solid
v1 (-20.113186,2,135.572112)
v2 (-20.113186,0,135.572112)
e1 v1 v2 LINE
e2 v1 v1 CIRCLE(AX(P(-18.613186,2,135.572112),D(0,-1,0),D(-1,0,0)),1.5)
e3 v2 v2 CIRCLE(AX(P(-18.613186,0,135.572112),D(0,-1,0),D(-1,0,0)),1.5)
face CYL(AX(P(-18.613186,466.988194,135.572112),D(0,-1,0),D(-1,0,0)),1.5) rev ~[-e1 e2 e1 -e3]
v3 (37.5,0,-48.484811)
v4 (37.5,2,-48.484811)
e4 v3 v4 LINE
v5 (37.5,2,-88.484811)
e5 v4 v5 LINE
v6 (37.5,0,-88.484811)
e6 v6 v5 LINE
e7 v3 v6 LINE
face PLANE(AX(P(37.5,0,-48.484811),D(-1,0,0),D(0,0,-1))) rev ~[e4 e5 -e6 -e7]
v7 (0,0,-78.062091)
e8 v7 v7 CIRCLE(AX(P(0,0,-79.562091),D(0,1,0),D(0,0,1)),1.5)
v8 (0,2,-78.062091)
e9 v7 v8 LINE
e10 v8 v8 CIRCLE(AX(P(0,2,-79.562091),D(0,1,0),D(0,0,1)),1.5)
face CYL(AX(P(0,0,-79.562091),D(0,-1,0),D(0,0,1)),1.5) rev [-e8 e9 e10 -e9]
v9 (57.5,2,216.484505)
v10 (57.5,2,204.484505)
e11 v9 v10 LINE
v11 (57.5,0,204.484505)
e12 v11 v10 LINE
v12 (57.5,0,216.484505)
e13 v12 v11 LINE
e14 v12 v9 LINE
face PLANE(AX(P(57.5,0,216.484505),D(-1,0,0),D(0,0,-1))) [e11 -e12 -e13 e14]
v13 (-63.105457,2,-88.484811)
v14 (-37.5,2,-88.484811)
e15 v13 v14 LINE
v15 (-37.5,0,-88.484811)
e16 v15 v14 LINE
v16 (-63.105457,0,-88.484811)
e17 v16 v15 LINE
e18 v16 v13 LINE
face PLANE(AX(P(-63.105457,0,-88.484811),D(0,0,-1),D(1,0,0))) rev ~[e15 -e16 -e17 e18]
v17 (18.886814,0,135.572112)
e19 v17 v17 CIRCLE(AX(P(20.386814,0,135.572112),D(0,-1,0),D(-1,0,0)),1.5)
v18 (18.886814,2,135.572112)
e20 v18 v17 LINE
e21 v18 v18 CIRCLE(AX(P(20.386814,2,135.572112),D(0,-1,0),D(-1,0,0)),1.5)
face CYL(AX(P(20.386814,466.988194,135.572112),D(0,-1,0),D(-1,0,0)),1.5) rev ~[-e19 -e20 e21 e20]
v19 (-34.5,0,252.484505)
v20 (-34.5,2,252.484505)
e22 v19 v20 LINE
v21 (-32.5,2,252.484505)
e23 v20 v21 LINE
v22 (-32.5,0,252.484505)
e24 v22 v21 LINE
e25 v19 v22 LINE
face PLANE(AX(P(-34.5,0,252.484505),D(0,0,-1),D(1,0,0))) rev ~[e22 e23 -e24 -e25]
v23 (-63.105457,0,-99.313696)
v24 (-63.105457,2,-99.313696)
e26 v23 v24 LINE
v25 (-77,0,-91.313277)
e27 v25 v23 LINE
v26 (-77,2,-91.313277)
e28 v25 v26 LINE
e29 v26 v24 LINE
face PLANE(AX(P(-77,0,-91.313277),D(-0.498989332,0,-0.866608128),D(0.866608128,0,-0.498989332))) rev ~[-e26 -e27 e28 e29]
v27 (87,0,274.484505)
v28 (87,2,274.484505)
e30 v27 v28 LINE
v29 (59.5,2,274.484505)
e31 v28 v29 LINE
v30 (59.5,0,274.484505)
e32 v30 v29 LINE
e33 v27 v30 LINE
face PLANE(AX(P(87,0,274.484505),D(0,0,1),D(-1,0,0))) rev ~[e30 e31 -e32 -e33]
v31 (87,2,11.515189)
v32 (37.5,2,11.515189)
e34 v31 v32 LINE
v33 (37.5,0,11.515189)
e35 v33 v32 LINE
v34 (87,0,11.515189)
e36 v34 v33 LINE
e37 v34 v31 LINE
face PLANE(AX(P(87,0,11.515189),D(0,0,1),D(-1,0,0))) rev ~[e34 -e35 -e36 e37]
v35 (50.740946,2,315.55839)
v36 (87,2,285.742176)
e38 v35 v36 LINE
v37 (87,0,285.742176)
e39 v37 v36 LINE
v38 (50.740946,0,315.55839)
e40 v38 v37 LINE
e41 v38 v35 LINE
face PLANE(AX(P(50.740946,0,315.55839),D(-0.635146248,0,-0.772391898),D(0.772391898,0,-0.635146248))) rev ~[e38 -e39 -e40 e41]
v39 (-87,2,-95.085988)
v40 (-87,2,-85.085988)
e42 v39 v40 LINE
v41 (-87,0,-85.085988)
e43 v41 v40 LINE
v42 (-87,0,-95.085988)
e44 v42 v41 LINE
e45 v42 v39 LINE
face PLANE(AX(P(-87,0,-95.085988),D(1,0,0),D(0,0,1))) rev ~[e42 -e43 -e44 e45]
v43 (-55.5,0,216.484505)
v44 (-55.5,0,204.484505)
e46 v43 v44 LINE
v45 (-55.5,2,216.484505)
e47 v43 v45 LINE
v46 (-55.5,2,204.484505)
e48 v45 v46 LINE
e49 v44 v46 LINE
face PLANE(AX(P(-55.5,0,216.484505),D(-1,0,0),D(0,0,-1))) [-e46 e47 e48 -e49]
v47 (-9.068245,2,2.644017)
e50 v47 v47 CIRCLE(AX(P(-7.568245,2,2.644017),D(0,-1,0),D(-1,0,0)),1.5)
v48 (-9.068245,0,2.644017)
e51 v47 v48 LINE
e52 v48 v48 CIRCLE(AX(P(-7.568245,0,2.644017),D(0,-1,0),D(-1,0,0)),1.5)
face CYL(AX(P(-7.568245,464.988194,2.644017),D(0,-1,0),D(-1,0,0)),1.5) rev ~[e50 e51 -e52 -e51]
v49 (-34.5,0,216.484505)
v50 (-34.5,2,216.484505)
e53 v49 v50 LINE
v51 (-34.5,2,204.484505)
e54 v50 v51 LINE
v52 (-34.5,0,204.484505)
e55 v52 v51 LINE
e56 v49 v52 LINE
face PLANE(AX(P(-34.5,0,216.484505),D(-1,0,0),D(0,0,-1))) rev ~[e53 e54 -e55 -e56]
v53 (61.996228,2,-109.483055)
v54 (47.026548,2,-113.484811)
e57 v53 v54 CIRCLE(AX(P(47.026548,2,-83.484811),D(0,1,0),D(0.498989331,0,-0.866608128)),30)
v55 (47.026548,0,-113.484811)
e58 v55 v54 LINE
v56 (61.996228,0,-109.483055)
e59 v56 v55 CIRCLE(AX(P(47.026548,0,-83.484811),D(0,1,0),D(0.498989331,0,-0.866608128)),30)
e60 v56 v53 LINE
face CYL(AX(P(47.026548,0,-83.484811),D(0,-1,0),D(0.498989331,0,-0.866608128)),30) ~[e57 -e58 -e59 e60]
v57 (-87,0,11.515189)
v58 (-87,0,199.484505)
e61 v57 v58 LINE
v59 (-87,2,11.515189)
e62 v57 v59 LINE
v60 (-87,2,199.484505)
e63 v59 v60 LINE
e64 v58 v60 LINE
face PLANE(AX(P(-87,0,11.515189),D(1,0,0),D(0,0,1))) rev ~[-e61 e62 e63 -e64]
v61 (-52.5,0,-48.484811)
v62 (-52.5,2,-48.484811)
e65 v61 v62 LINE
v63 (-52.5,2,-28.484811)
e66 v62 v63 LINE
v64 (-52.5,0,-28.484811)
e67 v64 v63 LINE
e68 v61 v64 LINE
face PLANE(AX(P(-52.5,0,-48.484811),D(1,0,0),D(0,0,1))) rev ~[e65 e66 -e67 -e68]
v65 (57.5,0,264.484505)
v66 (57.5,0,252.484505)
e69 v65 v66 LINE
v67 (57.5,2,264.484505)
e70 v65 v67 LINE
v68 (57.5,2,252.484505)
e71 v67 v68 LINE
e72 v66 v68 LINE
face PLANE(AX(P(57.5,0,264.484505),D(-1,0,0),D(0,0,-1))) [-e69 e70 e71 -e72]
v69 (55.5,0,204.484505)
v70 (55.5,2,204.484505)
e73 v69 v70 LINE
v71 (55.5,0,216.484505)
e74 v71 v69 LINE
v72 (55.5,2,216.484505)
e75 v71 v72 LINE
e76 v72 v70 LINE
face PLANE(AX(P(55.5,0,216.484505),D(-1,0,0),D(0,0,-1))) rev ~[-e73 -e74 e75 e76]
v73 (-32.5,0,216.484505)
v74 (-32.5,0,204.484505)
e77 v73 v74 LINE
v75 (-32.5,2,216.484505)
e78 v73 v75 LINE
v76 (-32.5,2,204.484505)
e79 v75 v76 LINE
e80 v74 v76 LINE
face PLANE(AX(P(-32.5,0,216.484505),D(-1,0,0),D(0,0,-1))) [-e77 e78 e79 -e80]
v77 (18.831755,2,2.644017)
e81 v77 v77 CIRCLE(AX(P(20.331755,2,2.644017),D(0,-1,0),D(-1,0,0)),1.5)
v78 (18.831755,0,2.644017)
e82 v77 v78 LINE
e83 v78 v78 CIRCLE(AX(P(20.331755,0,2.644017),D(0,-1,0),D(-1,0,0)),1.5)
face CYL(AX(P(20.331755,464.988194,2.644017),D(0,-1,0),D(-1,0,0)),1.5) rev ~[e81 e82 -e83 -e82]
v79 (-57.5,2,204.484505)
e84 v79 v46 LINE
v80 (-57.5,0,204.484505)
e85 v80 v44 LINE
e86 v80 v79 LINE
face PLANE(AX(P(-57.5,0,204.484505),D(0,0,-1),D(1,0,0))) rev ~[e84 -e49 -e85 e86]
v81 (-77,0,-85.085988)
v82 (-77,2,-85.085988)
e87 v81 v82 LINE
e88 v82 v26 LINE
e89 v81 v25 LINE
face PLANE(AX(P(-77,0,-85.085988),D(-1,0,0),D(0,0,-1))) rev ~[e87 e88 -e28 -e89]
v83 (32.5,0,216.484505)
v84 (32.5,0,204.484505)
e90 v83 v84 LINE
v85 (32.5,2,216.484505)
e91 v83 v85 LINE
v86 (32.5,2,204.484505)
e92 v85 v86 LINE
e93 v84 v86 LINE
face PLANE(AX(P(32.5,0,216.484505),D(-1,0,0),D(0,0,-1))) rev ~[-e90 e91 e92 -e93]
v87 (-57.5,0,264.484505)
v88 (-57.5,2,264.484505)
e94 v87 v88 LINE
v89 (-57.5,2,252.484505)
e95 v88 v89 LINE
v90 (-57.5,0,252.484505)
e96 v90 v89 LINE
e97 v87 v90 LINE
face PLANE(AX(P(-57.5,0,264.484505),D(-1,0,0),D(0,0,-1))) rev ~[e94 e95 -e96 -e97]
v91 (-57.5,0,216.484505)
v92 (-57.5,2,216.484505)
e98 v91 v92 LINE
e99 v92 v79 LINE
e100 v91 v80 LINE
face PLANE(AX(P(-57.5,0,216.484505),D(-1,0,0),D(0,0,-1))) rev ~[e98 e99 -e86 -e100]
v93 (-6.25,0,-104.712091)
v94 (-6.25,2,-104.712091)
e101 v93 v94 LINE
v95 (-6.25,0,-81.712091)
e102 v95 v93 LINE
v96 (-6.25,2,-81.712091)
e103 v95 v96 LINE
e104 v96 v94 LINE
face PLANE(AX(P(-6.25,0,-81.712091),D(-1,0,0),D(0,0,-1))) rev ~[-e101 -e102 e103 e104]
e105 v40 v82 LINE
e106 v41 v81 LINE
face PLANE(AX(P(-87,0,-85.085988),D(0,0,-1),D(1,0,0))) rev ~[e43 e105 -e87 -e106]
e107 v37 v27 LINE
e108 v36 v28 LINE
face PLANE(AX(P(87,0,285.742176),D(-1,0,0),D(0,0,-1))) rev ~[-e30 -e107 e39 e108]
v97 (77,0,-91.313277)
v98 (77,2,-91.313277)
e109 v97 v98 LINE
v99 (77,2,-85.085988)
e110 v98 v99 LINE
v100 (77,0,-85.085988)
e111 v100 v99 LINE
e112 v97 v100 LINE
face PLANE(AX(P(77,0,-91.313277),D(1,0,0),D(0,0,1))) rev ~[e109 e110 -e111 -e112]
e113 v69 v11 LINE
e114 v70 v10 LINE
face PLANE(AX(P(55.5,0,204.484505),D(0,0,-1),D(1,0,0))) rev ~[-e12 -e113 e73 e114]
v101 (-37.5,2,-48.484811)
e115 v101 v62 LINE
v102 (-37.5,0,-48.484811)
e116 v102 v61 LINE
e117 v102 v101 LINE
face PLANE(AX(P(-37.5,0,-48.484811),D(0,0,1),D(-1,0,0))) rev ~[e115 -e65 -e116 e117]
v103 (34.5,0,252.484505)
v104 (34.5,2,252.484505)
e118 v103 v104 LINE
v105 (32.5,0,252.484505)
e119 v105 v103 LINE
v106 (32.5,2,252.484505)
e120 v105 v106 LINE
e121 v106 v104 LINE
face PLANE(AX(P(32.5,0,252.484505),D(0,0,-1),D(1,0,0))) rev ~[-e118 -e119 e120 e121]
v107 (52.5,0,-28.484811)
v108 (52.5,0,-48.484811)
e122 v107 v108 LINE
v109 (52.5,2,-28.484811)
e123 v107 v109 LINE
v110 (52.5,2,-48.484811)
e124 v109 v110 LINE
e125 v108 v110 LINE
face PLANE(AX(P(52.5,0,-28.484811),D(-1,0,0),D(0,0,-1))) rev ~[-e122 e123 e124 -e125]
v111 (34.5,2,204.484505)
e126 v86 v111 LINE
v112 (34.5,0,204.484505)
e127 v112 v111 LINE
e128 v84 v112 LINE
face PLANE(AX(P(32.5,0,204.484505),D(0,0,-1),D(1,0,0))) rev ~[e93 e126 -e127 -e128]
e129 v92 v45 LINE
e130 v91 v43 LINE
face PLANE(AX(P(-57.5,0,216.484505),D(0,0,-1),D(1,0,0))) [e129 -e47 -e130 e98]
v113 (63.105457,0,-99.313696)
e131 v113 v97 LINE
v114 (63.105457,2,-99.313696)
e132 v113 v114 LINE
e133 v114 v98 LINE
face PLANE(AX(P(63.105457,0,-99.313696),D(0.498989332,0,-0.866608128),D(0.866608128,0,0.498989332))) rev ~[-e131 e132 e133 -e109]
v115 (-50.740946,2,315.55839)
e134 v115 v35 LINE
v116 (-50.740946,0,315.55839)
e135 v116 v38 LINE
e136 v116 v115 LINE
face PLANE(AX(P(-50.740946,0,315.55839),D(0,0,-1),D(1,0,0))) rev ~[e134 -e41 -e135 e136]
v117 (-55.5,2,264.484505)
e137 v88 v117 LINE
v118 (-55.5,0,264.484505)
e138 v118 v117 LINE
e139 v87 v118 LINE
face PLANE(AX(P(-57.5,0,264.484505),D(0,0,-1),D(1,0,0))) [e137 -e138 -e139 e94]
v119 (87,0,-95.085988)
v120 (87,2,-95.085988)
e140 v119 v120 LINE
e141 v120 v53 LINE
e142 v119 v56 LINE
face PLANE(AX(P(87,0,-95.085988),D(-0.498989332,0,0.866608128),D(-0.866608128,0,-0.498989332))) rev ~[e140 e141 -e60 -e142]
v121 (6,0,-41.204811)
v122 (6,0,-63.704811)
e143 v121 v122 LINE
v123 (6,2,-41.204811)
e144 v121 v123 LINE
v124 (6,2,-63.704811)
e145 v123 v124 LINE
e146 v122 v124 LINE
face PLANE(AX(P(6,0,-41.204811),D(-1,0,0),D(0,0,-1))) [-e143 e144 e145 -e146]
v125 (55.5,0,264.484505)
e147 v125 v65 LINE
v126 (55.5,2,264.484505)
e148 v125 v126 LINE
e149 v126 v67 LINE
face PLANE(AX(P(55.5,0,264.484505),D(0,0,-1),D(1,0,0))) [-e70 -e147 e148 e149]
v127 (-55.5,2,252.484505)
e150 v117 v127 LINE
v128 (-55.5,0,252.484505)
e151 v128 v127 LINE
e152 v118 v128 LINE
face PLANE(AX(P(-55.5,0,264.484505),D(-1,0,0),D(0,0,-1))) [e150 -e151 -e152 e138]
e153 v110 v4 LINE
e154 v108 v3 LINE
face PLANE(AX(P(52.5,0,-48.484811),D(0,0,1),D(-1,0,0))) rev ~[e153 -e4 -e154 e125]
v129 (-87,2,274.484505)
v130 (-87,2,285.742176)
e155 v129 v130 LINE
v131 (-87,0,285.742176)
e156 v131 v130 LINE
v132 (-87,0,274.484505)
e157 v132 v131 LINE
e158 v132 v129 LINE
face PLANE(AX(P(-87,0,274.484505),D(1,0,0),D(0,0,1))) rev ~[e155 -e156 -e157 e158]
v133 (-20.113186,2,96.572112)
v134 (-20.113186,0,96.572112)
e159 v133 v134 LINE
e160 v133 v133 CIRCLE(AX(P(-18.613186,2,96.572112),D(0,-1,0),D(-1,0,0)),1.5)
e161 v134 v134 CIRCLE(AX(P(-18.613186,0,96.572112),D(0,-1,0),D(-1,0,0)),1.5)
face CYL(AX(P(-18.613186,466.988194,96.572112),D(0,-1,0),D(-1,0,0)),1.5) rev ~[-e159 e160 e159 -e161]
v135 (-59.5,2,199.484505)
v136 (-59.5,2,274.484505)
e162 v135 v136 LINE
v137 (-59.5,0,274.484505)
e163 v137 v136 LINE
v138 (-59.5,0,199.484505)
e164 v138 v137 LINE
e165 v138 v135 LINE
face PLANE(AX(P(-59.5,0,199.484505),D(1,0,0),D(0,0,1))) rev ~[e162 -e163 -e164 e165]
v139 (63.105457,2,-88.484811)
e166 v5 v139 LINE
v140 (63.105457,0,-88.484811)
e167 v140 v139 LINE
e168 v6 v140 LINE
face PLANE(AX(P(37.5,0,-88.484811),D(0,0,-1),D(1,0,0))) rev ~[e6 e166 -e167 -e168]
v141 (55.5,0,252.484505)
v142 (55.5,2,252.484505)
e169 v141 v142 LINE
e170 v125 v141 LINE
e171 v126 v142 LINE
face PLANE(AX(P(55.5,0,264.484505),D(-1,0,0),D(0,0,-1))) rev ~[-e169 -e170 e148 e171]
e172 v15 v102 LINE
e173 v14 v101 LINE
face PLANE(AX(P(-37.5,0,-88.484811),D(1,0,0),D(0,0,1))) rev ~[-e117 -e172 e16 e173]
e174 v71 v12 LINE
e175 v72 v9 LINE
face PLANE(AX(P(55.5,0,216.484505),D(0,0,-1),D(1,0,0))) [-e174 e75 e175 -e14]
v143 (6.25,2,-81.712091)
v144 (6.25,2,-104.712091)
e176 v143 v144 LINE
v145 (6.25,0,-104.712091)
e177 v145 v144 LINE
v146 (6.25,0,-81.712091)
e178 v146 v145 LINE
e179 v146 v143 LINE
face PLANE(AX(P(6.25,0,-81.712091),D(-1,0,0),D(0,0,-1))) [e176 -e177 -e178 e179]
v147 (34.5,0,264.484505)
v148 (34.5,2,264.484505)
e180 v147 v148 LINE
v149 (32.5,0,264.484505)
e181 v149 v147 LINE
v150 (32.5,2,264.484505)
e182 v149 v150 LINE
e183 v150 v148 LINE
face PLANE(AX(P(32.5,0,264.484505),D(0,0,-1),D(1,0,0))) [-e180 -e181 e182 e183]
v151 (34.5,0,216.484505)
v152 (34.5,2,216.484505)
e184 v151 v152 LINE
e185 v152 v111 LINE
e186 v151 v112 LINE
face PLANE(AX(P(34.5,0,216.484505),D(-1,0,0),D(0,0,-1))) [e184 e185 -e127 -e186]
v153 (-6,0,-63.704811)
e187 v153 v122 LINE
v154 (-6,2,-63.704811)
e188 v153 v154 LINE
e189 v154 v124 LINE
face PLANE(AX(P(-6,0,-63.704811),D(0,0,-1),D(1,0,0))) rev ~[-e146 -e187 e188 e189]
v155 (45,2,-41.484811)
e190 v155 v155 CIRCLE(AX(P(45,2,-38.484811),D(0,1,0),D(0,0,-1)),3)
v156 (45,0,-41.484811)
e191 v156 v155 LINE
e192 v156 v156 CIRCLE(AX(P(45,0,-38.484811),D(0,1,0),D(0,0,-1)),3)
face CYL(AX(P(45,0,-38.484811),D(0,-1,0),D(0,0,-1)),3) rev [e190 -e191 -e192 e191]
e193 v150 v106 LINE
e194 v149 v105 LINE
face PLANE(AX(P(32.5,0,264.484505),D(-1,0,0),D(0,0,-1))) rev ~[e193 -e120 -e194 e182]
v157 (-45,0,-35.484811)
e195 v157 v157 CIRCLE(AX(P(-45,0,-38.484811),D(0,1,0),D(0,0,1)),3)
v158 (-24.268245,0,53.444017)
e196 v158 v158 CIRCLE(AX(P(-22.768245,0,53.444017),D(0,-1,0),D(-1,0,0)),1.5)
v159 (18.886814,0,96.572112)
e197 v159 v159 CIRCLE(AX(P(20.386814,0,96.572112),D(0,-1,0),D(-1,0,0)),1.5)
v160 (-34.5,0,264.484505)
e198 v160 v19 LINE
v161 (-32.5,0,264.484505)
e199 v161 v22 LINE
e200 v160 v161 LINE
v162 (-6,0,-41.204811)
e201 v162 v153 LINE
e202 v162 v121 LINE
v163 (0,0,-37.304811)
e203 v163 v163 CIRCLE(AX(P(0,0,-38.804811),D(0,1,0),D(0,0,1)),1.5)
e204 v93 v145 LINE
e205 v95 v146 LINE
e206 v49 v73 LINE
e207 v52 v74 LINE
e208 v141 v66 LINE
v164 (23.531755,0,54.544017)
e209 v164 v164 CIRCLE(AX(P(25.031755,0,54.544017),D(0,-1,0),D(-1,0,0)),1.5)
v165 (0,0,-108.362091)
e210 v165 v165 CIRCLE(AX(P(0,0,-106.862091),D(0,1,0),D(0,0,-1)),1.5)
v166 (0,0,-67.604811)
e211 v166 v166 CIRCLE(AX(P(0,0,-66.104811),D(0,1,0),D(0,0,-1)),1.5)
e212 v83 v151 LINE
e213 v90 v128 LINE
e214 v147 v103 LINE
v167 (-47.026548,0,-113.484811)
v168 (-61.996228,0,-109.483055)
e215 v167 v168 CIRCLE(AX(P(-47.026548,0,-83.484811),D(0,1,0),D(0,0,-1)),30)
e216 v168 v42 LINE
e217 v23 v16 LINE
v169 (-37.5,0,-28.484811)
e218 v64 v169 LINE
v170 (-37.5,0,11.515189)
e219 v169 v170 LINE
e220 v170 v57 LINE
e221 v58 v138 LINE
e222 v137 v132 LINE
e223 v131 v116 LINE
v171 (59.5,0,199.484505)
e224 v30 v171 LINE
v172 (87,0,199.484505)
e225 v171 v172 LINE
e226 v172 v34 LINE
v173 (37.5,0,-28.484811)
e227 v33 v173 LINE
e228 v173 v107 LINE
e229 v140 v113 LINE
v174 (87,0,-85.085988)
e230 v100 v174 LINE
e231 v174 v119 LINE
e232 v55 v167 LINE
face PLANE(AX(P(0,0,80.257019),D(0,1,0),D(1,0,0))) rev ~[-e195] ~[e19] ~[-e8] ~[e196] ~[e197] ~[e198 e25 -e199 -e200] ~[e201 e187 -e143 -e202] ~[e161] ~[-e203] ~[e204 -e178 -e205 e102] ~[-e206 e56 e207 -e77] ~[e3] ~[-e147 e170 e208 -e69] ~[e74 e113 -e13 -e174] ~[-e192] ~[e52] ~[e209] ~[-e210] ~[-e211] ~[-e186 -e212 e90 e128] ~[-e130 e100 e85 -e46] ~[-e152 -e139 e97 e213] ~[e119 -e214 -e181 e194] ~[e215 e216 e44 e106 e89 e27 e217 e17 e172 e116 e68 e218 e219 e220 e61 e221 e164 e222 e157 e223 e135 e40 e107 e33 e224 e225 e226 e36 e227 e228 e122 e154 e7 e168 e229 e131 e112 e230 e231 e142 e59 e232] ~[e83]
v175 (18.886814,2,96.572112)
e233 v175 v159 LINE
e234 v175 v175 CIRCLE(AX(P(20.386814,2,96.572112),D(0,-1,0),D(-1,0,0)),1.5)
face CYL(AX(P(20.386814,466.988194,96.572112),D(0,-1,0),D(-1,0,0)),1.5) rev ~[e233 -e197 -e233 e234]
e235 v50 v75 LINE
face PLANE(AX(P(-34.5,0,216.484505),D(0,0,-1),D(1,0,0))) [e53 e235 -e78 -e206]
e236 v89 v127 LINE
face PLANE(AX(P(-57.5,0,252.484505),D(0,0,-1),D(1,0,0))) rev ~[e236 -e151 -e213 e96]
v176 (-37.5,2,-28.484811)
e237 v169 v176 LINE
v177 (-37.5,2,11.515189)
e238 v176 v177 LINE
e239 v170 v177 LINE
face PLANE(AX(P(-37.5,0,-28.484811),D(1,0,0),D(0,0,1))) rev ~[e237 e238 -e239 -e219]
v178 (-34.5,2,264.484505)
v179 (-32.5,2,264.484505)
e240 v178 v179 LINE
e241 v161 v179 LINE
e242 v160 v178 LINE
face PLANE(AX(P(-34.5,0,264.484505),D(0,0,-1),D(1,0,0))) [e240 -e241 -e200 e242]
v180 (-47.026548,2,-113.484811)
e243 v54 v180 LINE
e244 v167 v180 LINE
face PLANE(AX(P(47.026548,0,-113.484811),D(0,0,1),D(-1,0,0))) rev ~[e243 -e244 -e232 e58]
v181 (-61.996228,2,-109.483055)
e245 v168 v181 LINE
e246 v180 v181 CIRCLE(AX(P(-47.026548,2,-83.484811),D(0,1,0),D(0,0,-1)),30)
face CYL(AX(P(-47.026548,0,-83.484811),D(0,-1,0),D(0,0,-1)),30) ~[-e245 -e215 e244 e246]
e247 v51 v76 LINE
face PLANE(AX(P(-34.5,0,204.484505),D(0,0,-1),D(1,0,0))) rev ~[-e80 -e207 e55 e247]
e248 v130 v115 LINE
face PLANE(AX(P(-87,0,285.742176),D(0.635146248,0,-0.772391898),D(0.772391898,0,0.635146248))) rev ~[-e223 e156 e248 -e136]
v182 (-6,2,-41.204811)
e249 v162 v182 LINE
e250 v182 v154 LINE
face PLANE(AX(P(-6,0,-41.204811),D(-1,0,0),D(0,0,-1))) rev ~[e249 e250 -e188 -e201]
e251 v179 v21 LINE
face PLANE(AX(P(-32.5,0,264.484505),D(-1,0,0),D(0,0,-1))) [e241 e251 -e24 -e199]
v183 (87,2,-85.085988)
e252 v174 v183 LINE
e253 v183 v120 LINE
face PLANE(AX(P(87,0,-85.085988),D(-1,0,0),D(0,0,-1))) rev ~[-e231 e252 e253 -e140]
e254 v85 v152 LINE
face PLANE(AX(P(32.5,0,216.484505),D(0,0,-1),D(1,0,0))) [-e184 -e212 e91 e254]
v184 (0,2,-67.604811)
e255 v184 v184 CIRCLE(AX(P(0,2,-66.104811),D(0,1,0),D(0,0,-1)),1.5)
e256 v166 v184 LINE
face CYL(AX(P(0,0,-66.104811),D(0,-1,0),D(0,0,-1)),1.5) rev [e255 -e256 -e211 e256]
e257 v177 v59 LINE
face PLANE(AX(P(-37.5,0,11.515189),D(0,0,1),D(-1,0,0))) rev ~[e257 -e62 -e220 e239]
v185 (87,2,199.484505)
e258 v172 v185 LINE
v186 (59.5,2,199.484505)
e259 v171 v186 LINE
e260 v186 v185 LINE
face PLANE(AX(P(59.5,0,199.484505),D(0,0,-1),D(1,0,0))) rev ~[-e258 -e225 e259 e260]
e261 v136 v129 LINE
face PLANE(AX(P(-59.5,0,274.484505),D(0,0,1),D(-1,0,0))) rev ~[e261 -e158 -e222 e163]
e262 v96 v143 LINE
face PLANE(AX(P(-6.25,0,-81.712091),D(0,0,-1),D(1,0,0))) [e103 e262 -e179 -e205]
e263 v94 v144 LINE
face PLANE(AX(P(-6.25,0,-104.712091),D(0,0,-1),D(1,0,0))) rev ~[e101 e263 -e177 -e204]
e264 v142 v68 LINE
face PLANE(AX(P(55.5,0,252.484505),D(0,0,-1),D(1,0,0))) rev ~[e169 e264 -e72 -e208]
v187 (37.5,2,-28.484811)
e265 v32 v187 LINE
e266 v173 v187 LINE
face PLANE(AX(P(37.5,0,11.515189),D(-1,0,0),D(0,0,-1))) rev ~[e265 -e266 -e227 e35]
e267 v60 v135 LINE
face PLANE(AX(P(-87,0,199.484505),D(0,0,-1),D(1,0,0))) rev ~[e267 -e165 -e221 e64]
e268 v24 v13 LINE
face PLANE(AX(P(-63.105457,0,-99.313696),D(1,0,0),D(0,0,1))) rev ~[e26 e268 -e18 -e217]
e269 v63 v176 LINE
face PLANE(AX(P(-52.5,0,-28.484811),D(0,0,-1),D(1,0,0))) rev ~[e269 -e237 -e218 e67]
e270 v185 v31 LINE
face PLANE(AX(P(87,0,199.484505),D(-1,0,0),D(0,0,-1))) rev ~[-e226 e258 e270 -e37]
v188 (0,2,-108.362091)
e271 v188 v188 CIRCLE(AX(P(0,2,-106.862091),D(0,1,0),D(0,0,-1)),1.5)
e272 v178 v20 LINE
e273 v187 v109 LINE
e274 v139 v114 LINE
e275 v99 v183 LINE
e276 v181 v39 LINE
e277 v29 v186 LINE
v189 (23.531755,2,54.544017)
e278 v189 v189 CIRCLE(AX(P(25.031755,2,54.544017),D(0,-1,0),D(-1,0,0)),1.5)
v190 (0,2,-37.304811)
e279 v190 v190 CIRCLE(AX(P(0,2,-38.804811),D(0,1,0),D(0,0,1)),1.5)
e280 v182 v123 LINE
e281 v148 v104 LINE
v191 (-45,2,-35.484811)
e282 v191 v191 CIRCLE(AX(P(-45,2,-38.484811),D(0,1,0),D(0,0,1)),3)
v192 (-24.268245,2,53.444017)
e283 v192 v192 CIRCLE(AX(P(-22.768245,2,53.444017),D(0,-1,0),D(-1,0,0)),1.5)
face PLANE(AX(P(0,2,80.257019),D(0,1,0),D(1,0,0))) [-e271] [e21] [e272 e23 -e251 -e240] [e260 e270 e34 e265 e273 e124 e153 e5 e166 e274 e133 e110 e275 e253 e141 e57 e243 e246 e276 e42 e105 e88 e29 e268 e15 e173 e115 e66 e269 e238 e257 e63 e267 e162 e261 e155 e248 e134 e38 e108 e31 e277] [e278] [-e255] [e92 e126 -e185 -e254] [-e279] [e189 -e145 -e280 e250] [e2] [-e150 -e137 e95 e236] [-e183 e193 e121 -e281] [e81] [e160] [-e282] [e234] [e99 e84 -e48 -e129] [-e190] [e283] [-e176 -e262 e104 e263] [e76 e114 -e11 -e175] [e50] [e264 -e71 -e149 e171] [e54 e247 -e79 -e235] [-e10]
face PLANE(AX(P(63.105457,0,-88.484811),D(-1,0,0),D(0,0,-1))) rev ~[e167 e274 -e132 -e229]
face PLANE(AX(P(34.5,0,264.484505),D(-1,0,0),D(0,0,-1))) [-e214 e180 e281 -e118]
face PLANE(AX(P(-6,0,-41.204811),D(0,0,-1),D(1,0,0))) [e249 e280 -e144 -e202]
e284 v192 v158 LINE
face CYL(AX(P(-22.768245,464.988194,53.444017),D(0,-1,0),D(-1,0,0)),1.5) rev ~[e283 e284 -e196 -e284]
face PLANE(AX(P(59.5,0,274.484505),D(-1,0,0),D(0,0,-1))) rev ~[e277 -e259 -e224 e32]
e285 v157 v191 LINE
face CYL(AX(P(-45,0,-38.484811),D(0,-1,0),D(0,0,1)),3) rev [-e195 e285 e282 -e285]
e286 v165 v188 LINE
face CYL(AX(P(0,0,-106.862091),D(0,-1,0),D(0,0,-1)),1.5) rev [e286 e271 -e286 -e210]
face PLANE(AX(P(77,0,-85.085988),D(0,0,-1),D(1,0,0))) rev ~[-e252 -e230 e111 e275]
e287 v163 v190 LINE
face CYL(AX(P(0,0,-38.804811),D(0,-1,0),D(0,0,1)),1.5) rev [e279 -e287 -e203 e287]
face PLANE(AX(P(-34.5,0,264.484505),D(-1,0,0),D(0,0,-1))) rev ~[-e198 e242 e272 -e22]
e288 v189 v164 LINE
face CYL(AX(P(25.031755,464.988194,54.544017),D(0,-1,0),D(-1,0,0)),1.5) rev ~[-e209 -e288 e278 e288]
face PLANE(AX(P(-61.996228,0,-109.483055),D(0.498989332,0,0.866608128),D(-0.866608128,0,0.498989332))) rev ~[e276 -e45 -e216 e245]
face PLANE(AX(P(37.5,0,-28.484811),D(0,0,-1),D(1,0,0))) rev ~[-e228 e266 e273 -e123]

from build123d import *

# Parameters (mm, degrees)
SKETCH1_R                = 3
SKETCH1_R_2              = 1.5
SKETCH1_W                = 2
SKETCH1_H                = 12
SKETCH1_W_2              = 12
SKETCH1_H_2              = 22.5
SKETCH1_W_3              = 12.5
SKETCH1_H_3              = 23
BOSS_EXTRUDE2_DEPTH      = 2
F_3_0_3_DIAMETER_HOLE1_D = 3
F_3_0_3_DIAMETER_HOLE2_D = 3


with BuildPart() as part:
    # Sketch1 → Boss-Extrude2 (new body)
    with BuildSketch(Plane(origin=(0, 0, 0), x_dir=(1, 0, 0), z_dir=(0, 1, 0))):
        with BuildLine():
            Line((47.026548113, 113.484810936), (-47.026548113, 113.484810936))
            ThreePointArc((-47.026548113, 113.484810936), (-54.774215022, 112.467109973), (-61.996228059, 109.483054768))
            Line((-61.996228059, 109.483054768), (-87, 95.085987572))
            Line((-87, 95.085987572), (-87, 85.085987572))
            Line((-87, 85.085987572), (-77, 85.085987572))
            Line((-77, 85.085987572), (-77, 91.313276712))
            Line((-77, 91.313276712), (-63.105457223, 99.313696268))
            Line((-63.105457223, 99.313696268), (-63.105457223, 88.484810936))
            Line((-63.105457223, 88.484810936), (-37.5, 88.484810936))
            Line((-37.5, 88.484810936), (-37.5, 48.484810936))
            Line((-37.5, 48.484810936), (-52.5, 48.484810936))
            Line((-52.5, 48.484810936), (-52.5, 28.484810936))
            Line((-52.5, 28.484810936), (-37.5, 28.484810936))
            Line((-37.5, 28.484810936), (-37.5, -11.515189064))
            Line((-37.5, -11.515189064), (-87, -11.515189064))
            Line((-87, -11.515189064), (-87, -199.484504535))
            Line((-87, -199.484504535), (-59.5, -199.484504535))
            Line((-59.5, -199.484504535), (-59.5, -274.484504535))
            Line((-59.5, -274.484504535), (-87, -274.484504535))
            Line((-87, -274.484504535), (-87, -275.742175661))
            Line((-87, -275.742175661), (-87, -285.742175661))
            Line((-87, -285.742175661), (-50.740945714, -315.558389864))
            Line((-50.740945714, -315.558389864), (50.740945714, -315.558389864))
            Line((50.740945714, -315.558389864), (87, -285.742175661))
            Line((87, -285.742175661), (87, -275.742175661))
            Line((87, -275.742175661), (87, -274.484504535))
            Line((87, -274.484504535), (59.5, -274.484504535))
            Line((59.5, -274.484504535), (59.5, -199.484504535))
            Line((59.5, -199.484504535), (87, -199.484504535))
            Line((87, -199.484504535), (87, -11.515189064))
            Line((87, -11.515189064), (37.5, -11.515189064))
            Line((37.5, -11.515189064), (37.5, 28.484810936))
            Line((37.5, 28.484810936), (52.5, 28.484810936))
            Line((52.5, 28.484810936), (52.5, 48.484810936))
            Line((52.5, 48.484810936), (37.5, 48.484810936))
            Line((37.5, 48.484810936), (37.5, 88.484810936))
            Line((37.5, 88.484810936), (63.105457223, 88.484810936))
            Line((63.105457223, 88.484810936), (63.105457223, 99.313696268))
            Line((63.105457223, 99.313696268), (77, 91.313276712))
            Line((77, 91.313276712), (77, 85.085987572))
            Line((77, 85.085987572), (87, 85.085987572))
            Line((87, 85.085987572), (87, 95.085987572))
            Line((87, 95.085987572), (61.996228059, 109.483054768))
            ThreePointArc((61.996228059, 109.483054768), (54.774215022, 112.467109973), (47.026548113, 113.484810936))
        make_face()
        with Locations(Location((-45, 38.484810936, 0), (0, 0, 270))):
            Circle(SKETCH1_R, mode=Mode.SUBTRACT)
        with Locations(Location((45, 38.484810936, 0), (0, 0, 90))):
            Circle(SKETCH1_R, mode=Mode.SUBTRACT)
        with Locations(Location((0, 38.804810936, 0), (0, 0, 270))):
            Circle(SKETCH1_R_2, mode=Mode.SUBTRACT)
        with Locations(Location((0, 66.104810936, 0), (0, 0, 90))):
            Circle(SKETCH1_R_2, mode=Mode.SUBTRACT)
        with Locations(Location((0, 79.56209058, 0), (0, 0, 270))):
            Circle(SKETCH1_R_2, mode=Mode.SUBTRACT)
        with Locations(Location((0, 106.86209058, 0), (0, 0, 90))):
            Circle(SKETCH1_R_2, mode=Mode.SUBTRACT)
        with Locations((-33.5, -258.484504535)):
            Rectangle(SKETCH1_W, SKETCH1_H, mode=Mode.SUBTRACT)
        with Locations((-56.5, -258.484504535)):
            Rectangle(SKETCH1_W, SKETCH1_H, mode=Mode.SUBTRACT)
        with Locations((-33.5, -210.484504535)):
            Rectangle(SKETCH1_W, SKETCH1_H, mode=Mode.SUBTRACT)
        with Locations((-56.5, -210.484504535)):
            Rectangle(SKETCH1_W, SKETCH1_H, mode=Mode.SUBTRACT)
        with Locations((56.5, -210.484504535)):
            Rectangle(SKETCH1_W, SKETCH1_H, mode=Mode.SUBTRACT)
        with Locations((33.5, -210.484504535)):
            Rectangle(SKETCH1_W, SKETCH1_H, mode=Mode.SUBTRACT)
        with Locations((56.5, -258.484504535)):
            Rectangle(SKETCH1_W, SKETCH1_H, mode=Mode.SUBTRACT)
        with Locations((33.5, -258.484504535)):
            Rectangle(SKETCH1_W, SKETCH1_H, mode=Mode.SUBTRACT)
        with Locations((0, 52.454810936)):
            Rectangle(SKETCH1_W_2, SKETCH1_H_2, mode=Mode.SUBTRACT)
        with Locations((0, 93.21209058)):
            Rectangle(SKETCH1_W_3, SKETCH1_H_3, mode=Mode.SUBTRACT)
    extrude(amount=BOSS_EXTRUDE2_DEPTH)

    # Ø3.0 (3) Diameter Hole1 (through all)
    with Locations(Plane(origin=(-77.532035134, 2, -197.100991793), x_dir=(1, 0, 0), z_dir=(0, 1, 0))):
        with Locations((97.86378973, -199.745008939), (69.96378973, -199.745008939), (54.76378973, -250.545008939), (102.56378973, -251.645008939)):
            Hole(F_3_0_3_DIAMETER_HOLE1_D / 2)

    # Ø3.0 (3) Diameter Hole2 (through all)
    with Locations(Plane(origin=(-77.532035134, 4, -197.100991793), x_dir=(1, 0, 0), z_dir=(0, 1, 0))):
        with Locations((97.918849389, -293.673103718), (58.918849389, -293.673103718), (58.918849389, -332.673103718), (97.918849389, -332.673103718)):
            Hole(F_3_0_3_DIAMETER_HOLE2_D / 2)


solid = part.part
